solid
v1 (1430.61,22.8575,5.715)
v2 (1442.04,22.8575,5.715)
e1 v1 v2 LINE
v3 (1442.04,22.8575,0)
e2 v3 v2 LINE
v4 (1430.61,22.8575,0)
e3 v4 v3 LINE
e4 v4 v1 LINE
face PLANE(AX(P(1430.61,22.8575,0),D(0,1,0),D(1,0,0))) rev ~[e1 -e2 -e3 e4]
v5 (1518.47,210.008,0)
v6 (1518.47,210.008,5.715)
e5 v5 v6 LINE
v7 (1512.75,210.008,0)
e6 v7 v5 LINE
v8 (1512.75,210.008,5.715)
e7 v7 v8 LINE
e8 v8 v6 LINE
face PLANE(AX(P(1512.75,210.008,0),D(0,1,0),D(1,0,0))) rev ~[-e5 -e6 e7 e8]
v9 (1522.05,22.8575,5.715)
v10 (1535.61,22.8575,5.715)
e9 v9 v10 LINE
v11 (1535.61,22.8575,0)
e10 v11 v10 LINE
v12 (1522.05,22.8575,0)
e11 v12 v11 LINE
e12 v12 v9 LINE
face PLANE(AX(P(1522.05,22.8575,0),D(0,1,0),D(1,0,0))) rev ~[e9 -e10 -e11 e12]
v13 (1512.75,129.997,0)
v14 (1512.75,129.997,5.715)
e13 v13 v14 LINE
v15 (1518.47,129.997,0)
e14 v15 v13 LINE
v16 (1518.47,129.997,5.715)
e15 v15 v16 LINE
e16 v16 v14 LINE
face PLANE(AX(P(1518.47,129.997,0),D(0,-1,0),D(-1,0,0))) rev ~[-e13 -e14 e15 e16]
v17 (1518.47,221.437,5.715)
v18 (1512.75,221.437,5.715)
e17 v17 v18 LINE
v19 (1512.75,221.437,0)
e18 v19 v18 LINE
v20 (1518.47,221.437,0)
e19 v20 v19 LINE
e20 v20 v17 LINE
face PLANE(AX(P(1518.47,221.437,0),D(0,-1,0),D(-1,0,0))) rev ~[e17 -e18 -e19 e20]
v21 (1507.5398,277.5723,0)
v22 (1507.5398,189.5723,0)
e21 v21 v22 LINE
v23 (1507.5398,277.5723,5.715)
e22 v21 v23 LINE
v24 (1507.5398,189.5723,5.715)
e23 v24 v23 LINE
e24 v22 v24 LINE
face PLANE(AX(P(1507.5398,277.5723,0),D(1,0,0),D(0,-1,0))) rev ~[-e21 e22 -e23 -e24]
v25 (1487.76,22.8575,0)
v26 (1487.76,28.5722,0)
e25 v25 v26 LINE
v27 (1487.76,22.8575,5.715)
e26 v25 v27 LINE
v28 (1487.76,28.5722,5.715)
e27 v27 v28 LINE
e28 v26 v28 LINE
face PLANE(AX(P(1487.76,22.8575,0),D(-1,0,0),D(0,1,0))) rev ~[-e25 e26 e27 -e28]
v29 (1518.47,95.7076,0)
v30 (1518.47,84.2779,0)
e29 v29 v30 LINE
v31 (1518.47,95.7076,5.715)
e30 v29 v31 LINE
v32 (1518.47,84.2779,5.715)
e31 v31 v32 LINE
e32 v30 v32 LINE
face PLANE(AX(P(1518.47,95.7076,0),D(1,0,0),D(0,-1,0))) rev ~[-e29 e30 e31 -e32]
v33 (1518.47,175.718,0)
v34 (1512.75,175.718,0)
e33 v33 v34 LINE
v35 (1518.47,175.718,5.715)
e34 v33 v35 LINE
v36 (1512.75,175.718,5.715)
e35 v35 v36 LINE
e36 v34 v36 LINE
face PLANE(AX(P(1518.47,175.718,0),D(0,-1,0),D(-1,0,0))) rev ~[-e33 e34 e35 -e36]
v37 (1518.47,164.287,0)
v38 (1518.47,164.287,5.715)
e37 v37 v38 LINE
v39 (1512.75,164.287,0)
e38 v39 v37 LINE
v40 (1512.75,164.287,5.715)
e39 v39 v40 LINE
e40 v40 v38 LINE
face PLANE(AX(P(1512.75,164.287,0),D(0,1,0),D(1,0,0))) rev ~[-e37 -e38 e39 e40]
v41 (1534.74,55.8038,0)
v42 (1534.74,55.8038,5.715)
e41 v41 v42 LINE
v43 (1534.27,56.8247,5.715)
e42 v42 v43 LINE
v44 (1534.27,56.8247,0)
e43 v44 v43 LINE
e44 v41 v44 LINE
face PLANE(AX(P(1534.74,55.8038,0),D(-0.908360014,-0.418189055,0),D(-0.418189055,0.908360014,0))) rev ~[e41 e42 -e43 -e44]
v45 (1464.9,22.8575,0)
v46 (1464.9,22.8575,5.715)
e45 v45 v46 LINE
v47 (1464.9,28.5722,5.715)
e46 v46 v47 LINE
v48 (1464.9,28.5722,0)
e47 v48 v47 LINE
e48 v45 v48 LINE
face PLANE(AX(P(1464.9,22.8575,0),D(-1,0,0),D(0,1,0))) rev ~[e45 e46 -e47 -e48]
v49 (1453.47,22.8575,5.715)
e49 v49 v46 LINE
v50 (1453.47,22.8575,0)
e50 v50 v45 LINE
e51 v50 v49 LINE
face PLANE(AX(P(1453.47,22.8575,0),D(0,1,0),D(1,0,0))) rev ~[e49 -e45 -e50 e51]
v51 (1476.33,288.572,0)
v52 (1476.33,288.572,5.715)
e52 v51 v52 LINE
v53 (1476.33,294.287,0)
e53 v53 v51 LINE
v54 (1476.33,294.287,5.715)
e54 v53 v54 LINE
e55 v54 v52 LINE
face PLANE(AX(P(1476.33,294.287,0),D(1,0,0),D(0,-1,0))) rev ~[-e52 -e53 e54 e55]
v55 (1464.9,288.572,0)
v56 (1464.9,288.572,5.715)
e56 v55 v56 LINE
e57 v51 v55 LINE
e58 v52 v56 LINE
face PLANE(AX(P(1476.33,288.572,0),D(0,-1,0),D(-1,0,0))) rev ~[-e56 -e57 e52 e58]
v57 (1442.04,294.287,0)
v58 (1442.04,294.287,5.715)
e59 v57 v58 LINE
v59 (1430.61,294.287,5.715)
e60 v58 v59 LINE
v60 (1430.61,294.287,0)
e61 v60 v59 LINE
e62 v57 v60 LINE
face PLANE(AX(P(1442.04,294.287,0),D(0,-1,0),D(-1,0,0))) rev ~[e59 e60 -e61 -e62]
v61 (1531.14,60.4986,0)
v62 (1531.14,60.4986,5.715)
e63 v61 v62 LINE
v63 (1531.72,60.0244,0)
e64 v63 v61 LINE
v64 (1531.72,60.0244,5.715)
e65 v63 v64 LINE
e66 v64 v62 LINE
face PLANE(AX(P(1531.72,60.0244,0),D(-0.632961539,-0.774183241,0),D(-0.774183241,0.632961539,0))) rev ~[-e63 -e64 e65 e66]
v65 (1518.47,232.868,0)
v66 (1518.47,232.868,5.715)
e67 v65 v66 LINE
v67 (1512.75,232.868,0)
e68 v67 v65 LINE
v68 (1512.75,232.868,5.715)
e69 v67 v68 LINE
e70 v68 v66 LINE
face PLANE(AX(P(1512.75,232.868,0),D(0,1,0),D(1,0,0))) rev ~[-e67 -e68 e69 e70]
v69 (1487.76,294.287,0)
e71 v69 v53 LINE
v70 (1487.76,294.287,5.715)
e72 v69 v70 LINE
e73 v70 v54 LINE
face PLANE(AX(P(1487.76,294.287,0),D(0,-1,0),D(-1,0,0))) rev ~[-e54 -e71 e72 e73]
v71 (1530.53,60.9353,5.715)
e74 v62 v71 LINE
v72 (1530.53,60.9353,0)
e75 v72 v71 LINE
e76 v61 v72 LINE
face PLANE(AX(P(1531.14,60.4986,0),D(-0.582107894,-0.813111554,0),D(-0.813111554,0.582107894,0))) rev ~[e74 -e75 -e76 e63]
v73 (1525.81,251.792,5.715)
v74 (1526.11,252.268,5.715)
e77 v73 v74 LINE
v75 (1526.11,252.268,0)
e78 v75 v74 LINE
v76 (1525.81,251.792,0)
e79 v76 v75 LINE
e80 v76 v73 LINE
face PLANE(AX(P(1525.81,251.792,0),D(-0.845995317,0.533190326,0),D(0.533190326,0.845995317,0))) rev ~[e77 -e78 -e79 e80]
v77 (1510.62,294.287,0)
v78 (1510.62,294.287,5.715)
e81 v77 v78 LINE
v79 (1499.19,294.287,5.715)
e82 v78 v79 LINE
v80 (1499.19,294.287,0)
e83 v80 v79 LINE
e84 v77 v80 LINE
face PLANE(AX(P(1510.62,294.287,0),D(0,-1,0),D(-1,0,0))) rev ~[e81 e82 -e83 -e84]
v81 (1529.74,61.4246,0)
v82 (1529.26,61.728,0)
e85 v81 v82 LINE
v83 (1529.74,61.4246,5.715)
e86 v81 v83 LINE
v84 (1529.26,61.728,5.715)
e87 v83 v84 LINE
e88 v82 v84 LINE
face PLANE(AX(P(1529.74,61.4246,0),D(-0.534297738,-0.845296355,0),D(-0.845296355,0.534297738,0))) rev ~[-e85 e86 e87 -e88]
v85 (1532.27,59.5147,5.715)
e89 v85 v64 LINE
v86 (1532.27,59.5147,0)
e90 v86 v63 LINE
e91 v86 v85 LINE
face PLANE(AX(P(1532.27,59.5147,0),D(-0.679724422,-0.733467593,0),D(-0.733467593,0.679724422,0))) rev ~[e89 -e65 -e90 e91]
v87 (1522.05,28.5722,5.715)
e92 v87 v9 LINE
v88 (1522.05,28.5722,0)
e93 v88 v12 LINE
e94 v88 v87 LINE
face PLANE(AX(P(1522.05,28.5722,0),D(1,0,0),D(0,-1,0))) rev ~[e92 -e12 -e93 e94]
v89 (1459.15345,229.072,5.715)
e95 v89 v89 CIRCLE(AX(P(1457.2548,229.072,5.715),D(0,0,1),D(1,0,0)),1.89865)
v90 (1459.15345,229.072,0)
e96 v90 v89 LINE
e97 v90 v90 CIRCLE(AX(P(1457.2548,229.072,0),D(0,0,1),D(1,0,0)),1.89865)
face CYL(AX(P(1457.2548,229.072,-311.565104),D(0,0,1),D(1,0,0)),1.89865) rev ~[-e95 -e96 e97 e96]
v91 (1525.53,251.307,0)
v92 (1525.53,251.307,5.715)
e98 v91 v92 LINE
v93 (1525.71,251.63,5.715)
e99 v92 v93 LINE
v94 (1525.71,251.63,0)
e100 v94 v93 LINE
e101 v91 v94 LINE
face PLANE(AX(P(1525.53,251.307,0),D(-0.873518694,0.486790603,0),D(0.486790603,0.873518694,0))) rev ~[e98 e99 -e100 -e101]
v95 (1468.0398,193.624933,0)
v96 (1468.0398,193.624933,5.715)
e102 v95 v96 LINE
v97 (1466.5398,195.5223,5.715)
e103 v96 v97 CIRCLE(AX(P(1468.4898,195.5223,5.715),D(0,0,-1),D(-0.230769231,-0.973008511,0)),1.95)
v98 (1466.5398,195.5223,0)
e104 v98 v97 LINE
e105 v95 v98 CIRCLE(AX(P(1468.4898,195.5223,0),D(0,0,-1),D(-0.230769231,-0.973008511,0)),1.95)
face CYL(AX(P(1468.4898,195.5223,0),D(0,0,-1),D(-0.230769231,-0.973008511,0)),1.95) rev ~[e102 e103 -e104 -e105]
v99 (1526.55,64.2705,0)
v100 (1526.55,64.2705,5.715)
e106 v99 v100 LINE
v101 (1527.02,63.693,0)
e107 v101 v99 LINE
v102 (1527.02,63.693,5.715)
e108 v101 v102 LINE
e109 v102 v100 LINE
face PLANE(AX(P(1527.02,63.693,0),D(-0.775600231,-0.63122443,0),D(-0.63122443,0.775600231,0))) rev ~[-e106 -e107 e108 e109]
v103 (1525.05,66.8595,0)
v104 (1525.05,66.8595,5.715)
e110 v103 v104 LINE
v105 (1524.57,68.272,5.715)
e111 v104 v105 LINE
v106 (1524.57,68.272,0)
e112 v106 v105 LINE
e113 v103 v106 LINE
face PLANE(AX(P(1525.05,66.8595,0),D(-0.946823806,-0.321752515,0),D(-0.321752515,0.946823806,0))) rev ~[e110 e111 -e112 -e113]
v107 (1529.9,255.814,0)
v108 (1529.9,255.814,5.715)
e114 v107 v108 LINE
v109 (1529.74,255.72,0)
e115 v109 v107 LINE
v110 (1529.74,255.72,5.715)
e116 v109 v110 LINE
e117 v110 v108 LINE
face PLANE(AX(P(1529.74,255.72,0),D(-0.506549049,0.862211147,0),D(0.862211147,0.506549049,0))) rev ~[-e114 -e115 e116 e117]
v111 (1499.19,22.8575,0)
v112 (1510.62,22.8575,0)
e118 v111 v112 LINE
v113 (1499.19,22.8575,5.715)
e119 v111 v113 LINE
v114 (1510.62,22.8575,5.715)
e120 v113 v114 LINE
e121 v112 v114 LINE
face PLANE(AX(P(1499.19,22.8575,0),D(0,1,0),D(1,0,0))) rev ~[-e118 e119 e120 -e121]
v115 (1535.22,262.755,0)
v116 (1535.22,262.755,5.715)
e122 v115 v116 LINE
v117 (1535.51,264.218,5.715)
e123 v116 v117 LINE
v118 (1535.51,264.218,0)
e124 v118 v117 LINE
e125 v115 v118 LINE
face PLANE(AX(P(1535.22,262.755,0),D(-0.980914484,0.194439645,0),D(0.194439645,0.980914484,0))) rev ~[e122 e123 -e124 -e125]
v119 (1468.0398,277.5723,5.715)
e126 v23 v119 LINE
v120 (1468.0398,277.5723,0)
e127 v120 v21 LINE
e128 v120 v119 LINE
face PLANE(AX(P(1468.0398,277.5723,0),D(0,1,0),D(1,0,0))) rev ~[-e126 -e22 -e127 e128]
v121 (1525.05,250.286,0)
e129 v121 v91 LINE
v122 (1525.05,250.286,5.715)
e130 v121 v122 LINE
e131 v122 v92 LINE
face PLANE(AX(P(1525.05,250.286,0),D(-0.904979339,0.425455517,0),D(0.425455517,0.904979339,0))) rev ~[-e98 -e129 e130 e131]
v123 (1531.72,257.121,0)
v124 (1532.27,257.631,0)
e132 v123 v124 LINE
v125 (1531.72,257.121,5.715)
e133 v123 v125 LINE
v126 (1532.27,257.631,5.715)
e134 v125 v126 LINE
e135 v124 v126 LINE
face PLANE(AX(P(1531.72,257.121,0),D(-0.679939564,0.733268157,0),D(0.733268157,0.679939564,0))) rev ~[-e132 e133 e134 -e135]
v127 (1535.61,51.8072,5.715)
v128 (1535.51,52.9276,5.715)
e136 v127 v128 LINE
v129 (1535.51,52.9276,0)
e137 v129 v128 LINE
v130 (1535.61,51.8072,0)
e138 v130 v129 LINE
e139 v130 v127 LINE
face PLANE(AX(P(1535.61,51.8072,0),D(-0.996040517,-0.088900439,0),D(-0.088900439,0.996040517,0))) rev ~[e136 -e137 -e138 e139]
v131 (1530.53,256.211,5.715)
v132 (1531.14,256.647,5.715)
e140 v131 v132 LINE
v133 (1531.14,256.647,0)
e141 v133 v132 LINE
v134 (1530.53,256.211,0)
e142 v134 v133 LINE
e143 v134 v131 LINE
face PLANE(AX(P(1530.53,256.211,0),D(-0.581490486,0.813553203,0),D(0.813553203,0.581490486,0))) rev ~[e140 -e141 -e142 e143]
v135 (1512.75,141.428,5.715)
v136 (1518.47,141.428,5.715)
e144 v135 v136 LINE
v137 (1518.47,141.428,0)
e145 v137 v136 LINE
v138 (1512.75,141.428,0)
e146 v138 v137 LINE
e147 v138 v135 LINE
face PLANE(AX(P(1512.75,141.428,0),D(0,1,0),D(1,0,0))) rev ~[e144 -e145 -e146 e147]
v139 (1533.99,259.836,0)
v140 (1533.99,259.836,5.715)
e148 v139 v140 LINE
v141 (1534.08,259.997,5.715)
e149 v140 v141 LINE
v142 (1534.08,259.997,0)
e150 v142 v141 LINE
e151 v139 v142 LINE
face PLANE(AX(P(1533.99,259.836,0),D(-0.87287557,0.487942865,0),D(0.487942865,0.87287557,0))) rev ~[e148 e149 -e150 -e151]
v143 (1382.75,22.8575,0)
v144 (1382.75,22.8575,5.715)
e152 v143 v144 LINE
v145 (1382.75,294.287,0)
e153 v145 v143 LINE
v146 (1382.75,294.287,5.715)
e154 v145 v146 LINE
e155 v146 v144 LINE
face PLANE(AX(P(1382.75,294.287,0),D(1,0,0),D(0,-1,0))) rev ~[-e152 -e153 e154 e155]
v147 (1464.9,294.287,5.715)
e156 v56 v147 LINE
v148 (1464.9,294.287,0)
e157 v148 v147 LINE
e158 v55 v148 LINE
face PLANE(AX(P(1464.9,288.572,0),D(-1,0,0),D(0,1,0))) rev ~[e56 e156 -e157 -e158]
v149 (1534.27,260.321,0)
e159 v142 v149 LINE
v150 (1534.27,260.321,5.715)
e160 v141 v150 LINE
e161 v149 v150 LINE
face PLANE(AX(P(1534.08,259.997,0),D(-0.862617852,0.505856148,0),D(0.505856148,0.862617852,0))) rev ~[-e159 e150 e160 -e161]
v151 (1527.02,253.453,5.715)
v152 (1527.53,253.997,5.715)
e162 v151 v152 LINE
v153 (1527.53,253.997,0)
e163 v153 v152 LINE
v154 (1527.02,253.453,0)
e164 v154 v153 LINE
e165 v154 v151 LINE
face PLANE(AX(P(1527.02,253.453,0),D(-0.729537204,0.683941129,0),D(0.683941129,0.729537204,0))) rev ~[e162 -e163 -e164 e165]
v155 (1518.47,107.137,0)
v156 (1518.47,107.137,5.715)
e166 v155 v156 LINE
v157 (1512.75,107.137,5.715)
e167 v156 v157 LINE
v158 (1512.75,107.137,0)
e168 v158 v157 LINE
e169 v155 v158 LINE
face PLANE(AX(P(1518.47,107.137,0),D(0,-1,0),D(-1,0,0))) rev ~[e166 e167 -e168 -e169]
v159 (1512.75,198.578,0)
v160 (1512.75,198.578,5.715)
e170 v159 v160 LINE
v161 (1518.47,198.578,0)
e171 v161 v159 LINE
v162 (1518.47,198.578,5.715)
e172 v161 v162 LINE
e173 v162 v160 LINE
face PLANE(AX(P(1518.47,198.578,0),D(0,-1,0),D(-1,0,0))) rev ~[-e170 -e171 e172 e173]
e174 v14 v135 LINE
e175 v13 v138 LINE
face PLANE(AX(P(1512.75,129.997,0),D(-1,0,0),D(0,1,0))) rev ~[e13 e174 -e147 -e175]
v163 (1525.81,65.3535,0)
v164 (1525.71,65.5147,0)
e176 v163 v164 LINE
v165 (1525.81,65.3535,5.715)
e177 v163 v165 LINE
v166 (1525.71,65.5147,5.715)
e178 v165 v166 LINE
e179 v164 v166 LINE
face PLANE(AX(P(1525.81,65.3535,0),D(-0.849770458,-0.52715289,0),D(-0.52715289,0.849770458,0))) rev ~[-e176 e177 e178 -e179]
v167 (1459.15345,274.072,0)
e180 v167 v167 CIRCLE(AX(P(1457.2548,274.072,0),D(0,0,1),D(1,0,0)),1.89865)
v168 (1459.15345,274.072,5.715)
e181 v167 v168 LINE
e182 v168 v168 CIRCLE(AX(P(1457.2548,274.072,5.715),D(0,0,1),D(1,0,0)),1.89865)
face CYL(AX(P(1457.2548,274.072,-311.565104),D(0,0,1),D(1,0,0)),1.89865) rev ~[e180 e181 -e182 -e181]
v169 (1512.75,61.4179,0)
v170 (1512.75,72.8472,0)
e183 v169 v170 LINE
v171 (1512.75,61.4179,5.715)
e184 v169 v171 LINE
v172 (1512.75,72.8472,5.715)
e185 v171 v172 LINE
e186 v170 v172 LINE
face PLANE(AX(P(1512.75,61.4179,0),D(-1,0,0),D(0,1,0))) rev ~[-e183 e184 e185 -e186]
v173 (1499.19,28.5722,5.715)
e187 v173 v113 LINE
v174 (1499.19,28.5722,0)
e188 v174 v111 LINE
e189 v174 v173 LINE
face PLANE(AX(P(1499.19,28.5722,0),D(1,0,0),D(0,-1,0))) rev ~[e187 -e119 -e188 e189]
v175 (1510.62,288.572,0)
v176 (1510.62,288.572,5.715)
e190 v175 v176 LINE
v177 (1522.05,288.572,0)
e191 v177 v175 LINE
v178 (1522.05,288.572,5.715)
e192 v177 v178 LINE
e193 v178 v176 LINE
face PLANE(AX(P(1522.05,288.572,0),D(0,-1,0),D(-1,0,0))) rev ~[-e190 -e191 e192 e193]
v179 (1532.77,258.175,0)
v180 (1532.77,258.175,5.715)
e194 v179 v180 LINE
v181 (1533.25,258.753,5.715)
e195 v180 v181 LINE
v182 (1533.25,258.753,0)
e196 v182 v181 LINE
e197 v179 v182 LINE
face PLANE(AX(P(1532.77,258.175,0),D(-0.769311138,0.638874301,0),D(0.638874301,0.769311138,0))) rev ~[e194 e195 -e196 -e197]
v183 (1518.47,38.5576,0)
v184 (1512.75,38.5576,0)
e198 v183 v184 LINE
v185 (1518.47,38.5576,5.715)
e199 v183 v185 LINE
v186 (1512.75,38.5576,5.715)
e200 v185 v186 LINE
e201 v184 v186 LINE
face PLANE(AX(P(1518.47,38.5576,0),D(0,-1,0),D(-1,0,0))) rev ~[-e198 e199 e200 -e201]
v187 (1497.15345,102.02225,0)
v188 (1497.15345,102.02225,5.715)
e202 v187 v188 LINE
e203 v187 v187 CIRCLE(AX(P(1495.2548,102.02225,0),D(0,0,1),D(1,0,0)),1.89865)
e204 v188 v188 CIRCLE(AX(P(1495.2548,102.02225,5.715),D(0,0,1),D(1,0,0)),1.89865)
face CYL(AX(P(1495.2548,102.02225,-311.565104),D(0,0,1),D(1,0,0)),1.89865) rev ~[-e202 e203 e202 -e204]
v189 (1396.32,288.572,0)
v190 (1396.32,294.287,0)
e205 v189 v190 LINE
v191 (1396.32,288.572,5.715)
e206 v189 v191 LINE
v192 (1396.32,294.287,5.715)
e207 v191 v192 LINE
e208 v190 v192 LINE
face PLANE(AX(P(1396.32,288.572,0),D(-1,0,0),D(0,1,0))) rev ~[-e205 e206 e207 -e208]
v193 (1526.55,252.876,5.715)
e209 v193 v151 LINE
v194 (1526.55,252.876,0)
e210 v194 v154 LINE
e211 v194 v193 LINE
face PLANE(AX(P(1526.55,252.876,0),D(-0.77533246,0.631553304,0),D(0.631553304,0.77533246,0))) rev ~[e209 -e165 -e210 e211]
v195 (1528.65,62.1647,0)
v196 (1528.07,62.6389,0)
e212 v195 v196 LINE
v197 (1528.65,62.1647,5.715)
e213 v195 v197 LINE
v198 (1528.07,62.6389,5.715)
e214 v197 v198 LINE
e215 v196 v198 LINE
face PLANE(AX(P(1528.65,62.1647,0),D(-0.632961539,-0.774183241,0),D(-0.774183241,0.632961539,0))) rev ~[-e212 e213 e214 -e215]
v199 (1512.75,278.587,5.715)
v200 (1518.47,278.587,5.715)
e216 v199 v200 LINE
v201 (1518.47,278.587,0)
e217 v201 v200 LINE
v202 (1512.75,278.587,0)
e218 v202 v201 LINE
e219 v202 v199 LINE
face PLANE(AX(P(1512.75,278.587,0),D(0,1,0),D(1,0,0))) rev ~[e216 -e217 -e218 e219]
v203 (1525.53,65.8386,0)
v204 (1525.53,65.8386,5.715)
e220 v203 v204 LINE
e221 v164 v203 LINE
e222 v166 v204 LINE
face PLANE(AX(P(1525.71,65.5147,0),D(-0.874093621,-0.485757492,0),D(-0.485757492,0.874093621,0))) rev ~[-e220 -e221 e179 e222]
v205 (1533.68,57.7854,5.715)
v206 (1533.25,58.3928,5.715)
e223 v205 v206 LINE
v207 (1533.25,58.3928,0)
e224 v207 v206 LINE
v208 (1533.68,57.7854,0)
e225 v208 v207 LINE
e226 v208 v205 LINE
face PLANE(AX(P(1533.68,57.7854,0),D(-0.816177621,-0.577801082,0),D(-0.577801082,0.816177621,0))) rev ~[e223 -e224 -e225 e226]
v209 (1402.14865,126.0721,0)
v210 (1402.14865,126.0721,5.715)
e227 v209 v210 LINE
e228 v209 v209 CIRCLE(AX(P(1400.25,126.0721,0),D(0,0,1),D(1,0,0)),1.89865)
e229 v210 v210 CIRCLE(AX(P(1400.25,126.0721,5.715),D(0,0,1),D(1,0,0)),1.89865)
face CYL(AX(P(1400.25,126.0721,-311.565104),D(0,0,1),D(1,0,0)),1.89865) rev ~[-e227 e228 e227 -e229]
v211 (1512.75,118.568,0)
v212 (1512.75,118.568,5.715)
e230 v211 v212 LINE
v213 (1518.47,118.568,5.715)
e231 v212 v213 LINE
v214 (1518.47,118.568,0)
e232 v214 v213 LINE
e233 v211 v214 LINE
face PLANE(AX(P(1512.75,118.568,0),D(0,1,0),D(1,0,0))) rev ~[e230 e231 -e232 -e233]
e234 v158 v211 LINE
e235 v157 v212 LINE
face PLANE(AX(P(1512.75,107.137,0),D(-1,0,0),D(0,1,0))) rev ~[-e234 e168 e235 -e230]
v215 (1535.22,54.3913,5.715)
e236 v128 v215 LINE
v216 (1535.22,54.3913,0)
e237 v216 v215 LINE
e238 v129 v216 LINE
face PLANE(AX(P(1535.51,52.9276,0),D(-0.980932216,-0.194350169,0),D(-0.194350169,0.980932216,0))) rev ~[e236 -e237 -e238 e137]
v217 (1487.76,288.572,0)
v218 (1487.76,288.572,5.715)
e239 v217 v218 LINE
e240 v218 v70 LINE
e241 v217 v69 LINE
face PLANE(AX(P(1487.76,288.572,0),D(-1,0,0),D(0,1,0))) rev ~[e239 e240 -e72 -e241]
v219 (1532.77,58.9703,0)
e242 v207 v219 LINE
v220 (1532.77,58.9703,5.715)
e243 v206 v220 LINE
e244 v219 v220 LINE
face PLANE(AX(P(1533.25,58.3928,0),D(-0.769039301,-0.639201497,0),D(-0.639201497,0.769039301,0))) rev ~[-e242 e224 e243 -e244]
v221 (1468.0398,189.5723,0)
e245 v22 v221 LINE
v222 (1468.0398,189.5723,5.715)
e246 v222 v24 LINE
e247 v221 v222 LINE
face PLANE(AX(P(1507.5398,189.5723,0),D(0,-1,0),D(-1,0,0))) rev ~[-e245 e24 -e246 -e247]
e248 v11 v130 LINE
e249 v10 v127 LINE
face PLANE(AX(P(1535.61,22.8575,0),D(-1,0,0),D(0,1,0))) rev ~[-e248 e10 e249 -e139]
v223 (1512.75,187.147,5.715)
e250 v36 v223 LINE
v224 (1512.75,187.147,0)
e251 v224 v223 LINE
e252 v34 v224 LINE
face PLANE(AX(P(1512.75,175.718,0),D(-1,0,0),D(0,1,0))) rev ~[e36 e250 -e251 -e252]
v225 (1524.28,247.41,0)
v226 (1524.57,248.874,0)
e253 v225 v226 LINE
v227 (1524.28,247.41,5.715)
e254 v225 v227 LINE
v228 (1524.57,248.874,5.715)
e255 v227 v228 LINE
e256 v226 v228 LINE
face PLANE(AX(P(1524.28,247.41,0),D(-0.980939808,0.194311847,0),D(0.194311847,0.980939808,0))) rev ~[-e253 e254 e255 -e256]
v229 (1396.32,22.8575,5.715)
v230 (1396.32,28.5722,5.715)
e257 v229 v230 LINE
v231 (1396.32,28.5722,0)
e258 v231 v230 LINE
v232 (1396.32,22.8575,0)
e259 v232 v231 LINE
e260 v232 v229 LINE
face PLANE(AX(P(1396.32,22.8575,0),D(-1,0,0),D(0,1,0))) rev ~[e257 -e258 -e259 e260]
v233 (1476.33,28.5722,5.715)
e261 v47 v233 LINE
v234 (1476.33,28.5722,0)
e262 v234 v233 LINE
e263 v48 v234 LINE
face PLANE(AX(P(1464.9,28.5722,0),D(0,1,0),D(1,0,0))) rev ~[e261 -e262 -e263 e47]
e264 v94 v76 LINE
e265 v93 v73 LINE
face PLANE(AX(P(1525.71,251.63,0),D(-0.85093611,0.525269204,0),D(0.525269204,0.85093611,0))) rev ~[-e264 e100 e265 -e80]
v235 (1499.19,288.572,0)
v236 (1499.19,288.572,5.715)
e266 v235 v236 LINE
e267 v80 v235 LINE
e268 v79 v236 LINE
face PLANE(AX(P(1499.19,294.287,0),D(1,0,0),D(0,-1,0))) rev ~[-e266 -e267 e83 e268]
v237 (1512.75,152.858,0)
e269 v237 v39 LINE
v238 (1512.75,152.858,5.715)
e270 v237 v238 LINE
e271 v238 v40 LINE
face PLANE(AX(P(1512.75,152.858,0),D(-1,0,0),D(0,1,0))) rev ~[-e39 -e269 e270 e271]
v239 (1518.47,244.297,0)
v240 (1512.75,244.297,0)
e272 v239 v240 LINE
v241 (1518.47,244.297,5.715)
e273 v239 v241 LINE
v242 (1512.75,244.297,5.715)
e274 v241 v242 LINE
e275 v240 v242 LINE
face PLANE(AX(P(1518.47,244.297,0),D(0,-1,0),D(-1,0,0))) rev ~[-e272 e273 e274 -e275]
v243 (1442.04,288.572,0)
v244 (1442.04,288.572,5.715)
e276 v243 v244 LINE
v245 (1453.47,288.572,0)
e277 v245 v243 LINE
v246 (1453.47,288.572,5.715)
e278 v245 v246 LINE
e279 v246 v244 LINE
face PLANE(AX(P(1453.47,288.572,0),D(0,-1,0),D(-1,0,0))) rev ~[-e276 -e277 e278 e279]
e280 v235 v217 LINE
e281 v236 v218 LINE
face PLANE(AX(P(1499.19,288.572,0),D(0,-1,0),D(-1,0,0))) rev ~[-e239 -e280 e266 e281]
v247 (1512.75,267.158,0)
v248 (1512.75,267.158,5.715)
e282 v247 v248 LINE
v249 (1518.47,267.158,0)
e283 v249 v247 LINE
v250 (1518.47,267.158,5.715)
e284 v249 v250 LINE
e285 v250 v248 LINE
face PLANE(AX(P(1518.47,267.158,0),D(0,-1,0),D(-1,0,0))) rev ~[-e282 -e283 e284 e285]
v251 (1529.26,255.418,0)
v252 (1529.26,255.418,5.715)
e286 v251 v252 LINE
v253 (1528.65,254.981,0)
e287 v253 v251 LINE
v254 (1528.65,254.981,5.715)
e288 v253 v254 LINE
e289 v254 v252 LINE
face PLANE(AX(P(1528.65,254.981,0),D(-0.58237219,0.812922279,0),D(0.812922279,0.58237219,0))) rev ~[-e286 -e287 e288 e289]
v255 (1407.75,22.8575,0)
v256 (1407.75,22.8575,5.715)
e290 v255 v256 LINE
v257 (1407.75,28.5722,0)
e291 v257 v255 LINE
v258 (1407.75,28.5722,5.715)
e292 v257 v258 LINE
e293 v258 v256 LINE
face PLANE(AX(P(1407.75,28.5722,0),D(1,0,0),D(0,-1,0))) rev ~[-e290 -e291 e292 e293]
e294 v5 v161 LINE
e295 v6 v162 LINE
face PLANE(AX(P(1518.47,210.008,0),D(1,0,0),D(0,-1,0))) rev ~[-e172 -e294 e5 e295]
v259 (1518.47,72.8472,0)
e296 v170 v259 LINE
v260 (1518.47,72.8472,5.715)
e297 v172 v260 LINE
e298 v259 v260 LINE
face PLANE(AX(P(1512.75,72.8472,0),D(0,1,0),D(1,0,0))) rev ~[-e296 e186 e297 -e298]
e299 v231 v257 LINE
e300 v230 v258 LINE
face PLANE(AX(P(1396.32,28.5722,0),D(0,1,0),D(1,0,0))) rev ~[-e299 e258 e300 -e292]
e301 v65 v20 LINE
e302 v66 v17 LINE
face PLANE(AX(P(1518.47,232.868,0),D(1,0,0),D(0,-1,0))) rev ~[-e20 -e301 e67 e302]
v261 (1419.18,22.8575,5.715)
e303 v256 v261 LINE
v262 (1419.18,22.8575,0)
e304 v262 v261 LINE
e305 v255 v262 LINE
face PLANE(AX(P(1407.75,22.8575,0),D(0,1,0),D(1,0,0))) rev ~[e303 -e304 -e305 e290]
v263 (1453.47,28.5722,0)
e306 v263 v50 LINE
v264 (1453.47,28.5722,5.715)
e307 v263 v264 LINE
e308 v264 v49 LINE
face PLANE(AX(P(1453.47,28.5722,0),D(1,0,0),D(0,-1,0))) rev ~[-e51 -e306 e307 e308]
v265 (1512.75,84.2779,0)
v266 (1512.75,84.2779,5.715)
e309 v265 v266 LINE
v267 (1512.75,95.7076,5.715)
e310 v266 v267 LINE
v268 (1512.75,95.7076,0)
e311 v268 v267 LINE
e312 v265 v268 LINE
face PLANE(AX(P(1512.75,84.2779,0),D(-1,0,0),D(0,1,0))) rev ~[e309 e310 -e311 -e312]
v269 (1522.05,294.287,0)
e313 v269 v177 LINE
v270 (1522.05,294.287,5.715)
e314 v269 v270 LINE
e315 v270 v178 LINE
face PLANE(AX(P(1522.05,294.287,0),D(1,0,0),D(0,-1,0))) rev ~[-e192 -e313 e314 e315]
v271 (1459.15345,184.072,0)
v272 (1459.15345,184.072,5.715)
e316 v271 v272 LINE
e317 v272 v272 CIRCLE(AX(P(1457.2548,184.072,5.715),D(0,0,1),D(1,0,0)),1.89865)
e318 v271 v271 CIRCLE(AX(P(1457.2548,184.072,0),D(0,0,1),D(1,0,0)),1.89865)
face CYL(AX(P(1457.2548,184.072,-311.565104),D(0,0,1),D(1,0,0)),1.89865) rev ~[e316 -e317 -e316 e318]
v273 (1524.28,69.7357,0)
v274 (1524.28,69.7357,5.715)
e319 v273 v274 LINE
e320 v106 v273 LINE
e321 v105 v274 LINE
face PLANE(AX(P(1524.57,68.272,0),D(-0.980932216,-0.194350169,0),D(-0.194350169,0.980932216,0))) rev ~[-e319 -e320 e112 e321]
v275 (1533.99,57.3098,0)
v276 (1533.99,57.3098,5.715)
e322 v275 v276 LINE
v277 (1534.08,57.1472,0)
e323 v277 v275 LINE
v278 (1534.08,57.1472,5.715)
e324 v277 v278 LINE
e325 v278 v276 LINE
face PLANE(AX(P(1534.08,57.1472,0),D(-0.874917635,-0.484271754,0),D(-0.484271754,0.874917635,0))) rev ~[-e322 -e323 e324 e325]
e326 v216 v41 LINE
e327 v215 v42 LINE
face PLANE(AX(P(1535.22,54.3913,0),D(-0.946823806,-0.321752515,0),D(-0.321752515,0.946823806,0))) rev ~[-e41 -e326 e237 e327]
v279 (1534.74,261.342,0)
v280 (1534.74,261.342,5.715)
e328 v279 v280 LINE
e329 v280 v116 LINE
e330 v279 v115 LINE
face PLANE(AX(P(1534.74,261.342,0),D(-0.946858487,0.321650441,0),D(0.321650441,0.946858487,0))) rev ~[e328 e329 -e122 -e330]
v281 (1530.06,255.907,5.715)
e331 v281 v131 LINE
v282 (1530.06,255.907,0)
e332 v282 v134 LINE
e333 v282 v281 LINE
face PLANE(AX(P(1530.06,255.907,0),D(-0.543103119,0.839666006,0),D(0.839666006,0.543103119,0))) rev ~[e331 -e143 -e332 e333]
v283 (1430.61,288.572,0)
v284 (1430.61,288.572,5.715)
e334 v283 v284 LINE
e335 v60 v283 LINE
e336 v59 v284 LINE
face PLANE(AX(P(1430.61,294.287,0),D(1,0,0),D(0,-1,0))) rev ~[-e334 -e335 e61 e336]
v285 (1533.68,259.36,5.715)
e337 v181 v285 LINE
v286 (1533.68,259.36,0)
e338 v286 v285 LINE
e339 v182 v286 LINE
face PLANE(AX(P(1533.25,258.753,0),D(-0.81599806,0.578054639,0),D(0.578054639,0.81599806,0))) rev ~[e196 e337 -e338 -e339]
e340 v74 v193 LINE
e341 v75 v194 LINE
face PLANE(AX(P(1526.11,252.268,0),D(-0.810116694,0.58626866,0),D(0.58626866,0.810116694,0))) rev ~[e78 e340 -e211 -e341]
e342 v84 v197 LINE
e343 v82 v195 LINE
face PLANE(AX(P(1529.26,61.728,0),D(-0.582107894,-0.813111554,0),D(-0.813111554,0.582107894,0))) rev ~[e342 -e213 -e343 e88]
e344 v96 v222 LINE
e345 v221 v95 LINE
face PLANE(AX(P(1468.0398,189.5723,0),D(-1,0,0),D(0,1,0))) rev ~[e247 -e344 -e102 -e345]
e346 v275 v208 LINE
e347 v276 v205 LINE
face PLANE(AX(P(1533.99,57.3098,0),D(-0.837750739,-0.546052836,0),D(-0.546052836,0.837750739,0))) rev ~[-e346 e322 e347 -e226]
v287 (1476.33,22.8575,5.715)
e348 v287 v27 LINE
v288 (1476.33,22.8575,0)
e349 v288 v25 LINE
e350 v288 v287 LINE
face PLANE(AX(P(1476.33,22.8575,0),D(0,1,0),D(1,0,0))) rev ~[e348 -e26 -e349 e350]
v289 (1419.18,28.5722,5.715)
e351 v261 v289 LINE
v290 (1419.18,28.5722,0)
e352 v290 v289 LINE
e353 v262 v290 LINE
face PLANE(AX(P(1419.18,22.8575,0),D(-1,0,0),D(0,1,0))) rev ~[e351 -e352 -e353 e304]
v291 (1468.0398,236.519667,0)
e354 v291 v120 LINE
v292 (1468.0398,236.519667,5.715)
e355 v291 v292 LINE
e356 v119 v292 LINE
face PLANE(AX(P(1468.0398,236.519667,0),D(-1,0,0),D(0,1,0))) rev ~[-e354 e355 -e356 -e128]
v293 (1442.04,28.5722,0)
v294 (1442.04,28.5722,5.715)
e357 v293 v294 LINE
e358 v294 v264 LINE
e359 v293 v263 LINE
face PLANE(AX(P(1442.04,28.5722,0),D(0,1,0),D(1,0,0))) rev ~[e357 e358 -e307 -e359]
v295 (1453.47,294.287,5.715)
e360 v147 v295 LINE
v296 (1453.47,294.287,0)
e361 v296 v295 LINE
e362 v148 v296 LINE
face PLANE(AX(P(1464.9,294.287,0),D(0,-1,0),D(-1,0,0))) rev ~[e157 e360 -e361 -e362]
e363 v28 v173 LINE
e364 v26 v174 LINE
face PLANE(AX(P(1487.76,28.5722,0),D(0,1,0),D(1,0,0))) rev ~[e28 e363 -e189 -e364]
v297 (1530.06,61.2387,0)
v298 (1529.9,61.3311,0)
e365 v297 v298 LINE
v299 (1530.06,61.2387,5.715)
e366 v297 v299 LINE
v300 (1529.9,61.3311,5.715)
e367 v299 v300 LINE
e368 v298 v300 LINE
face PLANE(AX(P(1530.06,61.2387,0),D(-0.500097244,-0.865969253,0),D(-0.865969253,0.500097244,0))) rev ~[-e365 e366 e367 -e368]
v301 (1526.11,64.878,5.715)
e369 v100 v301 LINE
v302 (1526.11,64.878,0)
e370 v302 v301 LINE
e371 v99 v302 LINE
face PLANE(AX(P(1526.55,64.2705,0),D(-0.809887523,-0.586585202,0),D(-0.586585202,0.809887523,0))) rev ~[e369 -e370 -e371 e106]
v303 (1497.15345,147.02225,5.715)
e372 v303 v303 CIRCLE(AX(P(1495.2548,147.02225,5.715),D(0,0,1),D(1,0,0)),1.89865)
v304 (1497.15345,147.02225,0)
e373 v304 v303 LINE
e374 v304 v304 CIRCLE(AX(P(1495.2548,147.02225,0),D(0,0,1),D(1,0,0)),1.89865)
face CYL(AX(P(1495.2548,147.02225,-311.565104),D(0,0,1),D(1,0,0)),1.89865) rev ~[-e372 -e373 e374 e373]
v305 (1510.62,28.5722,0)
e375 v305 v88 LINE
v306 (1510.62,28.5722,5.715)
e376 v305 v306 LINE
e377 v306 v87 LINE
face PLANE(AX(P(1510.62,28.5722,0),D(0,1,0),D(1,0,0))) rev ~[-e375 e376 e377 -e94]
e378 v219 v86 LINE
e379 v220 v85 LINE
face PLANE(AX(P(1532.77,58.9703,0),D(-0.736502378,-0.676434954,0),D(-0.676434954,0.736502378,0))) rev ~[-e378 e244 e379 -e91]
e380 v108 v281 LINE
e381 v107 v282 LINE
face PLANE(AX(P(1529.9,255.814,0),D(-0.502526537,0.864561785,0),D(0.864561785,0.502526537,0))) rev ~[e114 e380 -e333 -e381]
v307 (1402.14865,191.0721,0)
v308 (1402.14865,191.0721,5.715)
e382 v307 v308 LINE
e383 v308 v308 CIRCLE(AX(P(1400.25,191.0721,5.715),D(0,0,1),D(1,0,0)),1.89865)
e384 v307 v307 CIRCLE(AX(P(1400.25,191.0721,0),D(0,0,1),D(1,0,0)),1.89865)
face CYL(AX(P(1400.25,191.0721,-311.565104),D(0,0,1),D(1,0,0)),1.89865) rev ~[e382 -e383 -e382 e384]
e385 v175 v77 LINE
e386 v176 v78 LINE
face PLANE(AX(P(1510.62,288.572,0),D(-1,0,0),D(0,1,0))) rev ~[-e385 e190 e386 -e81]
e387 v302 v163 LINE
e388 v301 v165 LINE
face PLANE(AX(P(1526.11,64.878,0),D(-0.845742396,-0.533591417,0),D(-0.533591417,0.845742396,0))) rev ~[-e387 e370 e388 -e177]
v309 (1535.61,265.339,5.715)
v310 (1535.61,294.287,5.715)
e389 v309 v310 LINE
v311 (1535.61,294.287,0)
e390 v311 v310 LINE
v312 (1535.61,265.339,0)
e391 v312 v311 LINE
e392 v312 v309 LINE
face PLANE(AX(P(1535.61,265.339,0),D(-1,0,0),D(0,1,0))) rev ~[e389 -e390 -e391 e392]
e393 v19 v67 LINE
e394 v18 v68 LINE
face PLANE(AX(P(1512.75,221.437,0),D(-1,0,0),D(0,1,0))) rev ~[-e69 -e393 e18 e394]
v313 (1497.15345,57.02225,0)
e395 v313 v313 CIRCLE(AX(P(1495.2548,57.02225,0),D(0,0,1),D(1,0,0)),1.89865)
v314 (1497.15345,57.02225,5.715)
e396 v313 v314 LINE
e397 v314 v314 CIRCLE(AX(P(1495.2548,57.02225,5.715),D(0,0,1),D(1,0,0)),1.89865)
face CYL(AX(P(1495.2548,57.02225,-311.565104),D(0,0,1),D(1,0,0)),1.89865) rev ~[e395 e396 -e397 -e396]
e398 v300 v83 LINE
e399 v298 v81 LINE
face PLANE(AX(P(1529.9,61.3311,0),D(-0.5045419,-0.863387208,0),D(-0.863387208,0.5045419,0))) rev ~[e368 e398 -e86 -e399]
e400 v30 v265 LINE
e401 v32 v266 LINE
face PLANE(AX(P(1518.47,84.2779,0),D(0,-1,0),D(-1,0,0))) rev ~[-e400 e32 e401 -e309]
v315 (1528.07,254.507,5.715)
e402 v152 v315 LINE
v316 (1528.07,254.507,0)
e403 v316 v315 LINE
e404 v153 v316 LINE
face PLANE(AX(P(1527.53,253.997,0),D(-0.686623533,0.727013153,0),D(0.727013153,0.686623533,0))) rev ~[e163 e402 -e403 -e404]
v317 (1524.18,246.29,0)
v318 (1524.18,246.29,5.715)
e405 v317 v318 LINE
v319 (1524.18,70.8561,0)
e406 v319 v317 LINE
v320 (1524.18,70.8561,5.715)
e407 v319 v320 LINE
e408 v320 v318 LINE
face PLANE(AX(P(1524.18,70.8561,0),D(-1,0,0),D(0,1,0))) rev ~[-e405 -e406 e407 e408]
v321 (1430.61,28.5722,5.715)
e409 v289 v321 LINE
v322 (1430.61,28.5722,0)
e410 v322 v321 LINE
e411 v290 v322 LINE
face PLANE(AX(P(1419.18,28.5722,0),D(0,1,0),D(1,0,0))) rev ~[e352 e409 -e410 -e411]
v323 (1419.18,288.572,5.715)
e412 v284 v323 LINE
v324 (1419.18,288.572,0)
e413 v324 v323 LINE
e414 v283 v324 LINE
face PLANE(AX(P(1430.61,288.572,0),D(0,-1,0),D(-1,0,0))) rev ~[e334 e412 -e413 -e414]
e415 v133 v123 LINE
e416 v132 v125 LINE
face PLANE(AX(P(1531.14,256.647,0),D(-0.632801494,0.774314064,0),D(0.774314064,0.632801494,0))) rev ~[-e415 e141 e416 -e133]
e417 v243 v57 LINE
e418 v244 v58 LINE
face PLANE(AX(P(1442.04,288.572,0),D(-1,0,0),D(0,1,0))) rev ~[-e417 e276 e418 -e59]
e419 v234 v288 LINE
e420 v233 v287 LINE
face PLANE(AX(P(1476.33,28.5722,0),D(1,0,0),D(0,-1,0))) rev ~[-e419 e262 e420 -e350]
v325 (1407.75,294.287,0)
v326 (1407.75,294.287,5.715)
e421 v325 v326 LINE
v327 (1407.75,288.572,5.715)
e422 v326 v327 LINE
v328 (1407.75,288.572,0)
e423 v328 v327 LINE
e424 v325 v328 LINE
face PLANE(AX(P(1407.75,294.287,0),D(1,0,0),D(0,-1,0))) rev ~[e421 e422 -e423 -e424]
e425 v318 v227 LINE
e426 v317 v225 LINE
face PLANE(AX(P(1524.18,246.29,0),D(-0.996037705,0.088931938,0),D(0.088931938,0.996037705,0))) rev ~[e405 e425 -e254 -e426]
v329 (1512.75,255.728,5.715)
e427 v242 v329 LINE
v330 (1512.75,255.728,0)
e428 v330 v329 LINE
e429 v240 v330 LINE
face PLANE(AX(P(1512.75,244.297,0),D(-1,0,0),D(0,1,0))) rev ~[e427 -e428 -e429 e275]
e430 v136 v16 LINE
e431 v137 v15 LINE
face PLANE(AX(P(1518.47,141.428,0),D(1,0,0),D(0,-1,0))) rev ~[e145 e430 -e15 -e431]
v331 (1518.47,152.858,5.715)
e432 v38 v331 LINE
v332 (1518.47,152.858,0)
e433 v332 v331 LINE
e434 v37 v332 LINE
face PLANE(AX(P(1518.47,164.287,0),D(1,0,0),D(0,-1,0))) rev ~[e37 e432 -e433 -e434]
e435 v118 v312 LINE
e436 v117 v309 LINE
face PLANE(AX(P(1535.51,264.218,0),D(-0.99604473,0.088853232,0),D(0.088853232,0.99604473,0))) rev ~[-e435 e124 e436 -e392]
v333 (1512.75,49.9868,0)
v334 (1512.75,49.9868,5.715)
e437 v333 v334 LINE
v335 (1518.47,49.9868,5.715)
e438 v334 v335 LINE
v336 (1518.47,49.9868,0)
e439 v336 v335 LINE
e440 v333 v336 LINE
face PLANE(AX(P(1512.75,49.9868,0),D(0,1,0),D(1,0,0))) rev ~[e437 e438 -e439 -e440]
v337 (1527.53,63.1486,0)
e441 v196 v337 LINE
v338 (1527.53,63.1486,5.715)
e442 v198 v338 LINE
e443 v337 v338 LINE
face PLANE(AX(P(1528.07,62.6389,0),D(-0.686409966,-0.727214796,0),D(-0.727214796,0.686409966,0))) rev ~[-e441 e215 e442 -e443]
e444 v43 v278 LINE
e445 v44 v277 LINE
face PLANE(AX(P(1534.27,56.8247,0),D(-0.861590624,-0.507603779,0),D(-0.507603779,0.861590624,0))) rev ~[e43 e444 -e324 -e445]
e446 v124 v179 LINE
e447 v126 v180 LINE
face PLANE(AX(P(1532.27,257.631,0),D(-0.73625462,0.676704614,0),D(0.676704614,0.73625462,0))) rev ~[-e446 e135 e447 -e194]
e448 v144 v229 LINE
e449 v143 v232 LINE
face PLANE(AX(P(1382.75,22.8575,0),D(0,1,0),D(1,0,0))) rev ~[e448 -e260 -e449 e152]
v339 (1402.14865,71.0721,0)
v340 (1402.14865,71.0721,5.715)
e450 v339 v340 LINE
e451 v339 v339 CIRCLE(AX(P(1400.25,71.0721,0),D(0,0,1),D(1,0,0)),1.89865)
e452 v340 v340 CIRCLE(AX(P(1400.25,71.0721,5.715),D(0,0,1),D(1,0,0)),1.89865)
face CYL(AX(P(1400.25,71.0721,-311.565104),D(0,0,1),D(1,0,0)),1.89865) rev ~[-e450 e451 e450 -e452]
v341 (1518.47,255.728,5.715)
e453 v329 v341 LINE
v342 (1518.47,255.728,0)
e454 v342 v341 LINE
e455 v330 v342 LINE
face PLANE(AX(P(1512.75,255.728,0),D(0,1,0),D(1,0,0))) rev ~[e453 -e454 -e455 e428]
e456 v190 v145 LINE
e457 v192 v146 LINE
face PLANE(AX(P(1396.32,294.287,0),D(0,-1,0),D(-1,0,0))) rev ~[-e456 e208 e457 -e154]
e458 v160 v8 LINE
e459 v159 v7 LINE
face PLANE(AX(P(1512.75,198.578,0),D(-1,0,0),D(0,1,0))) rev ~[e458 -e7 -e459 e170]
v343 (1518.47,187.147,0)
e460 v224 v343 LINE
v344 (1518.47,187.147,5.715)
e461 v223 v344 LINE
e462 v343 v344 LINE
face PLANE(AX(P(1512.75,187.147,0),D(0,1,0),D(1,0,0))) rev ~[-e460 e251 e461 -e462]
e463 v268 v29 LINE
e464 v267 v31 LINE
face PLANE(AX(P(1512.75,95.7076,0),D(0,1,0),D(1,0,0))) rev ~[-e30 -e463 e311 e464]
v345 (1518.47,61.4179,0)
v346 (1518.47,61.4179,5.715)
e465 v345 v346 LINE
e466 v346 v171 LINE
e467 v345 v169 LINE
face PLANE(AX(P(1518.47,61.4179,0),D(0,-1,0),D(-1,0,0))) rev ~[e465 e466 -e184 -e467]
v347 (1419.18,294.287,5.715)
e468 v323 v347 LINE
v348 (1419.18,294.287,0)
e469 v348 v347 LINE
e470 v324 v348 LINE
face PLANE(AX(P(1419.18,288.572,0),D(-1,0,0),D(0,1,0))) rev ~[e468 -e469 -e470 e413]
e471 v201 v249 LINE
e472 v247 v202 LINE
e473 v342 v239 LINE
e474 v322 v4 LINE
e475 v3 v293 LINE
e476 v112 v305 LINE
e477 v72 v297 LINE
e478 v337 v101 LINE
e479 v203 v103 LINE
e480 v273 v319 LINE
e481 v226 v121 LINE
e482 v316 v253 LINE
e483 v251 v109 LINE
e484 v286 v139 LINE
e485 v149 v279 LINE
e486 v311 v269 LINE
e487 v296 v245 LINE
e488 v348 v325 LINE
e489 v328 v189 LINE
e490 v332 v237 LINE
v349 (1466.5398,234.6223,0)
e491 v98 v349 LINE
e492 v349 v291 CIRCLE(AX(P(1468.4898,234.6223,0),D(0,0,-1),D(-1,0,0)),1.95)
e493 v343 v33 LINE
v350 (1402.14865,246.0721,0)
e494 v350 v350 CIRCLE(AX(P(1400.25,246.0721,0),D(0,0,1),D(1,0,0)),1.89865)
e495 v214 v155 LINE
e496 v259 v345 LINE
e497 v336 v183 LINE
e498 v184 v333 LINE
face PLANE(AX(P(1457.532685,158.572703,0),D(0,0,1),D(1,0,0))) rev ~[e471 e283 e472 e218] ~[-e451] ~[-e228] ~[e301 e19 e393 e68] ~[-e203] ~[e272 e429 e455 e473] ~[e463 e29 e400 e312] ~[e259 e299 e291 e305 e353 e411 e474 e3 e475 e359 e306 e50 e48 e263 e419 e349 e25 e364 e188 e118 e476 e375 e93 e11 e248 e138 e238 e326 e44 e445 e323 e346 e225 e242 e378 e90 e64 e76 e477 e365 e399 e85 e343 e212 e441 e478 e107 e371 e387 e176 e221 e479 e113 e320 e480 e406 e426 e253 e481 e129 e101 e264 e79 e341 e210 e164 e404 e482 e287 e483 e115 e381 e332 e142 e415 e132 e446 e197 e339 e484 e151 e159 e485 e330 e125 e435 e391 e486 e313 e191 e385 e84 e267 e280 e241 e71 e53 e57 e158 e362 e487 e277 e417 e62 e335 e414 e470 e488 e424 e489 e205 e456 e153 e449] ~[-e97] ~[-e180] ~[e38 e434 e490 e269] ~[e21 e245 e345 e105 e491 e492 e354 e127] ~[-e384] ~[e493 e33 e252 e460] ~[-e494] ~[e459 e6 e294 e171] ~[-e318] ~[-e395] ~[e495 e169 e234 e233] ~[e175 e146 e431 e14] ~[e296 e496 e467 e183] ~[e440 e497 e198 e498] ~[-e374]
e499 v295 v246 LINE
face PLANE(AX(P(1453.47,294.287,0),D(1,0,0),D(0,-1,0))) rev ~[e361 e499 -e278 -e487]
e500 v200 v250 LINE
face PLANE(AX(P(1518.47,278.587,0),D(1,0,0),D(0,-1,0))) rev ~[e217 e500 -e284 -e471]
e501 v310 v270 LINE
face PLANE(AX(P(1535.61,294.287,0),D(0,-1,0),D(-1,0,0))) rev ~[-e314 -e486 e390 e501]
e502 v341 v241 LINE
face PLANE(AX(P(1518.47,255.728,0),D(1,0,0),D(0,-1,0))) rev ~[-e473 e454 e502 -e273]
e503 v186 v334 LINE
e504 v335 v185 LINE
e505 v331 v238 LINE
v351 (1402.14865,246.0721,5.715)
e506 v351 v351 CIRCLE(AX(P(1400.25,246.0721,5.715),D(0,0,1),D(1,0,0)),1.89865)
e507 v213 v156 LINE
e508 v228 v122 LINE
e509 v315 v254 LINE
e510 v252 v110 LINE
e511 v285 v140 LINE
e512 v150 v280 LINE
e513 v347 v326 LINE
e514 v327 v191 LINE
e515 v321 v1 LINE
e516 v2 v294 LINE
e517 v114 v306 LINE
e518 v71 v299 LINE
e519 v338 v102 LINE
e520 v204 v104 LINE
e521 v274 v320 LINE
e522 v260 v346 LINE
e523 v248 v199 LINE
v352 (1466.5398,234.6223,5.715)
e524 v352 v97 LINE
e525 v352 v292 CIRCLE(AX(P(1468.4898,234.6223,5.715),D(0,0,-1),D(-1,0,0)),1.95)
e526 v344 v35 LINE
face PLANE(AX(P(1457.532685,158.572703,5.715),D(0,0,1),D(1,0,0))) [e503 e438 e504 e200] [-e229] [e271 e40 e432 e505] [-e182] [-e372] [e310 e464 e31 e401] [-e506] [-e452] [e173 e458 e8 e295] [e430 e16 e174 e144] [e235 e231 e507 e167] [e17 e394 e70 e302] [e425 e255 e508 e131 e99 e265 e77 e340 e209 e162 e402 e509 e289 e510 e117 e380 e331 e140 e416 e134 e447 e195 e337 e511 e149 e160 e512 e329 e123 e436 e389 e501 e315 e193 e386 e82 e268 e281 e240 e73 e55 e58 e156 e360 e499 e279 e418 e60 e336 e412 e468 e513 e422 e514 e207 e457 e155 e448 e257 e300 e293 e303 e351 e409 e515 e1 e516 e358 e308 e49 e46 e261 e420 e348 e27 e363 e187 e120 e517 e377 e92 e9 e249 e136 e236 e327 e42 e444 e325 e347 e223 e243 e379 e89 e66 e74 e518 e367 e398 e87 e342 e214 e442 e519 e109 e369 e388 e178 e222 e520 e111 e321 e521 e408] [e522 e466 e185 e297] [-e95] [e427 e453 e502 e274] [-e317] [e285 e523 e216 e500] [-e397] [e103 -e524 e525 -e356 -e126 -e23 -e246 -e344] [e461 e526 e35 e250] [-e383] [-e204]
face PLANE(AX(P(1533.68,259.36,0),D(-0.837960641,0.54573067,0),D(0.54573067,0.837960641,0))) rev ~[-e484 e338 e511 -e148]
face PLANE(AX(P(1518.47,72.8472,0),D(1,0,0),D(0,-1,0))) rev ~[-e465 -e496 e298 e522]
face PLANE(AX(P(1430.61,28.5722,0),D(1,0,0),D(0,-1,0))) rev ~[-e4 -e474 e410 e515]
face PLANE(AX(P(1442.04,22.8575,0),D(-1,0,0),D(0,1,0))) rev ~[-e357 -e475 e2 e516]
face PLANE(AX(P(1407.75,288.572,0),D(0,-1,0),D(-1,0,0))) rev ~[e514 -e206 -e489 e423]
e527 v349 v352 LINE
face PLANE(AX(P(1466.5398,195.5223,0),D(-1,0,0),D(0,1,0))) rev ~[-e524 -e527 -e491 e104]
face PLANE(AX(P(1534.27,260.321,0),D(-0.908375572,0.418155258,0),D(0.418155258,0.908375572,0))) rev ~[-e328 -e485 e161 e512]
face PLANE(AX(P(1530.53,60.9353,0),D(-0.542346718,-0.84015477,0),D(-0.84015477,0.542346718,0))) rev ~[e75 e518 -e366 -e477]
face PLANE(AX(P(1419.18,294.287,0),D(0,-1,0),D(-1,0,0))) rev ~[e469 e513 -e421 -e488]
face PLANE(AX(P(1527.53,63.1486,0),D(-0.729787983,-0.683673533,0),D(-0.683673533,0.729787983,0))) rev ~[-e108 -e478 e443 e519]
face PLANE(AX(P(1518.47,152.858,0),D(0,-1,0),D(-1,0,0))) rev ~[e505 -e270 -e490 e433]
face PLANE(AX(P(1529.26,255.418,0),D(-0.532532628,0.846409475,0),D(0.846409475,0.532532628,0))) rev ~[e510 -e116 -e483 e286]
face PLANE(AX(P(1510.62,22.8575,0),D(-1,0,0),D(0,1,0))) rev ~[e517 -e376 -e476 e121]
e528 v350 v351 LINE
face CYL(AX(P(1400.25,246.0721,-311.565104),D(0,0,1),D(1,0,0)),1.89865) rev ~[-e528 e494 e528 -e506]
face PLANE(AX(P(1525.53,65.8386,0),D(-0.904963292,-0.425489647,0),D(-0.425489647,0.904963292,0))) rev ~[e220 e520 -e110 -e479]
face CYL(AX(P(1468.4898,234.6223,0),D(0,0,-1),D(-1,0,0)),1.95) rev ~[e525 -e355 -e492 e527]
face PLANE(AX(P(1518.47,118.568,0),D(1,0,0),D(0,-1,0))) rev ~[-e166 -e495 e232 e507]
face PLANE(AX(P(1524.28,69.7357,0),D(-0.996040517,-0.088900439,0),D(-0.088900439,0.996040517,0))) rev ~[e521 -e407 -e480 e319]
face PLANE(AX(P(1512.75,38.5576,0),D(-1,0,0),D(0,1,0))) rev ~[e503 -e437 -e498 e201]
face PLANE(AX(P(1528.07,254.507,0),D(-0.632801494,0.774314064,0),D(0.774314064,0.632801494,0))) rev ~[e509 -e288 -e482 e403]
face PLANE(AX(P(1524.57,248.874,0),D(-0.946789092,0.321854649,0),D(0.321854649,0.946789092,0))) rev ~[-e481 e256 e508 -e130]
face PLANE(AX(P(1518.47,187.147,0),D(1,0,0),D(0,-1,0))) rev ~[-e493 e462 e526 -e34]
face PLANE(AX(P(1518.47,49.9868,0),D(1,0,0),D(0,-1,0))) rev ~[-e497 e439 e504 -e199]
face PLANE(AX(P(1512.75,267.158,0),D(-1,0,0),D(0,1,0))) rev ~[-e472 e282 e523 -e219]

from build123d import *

# Parameters (mm, degrees)
BOSS_EXTRUDE1_DEPTH   = 5.715
CUT_EXTRUDE1_DEPTH    = 6.715
F_6_CLEARANCE_HOLE1_D = 3.7973


with BuildPart() as part:
    # Model → Boss-Extrude1 (new body)
    with BuildSketch(Plane.XY):
        Polygon((1382.75, 22.8575), (1396.32, 22.8575), (1396.32, 28.5722), (1407.75, 28.5722), (1407.75, 22.8575), (1419.18, 22.8575), (1419.18, 28.5722), (1430.61, 28.5722), (1430.61, 22.8575), (1442.04, 22.8575), (1442.04, 28.5722), (1453.47, 28.5722), (1453.47, 22.8575), (1464.9, 22.8575), (1464.9, 28.5722), (1476.33, 28.5722), (1476.33, 22.8575), (1487.76, 22.8575), (1487.76, 28.5722), (1499.19, 28.5722), (1499.19, 22.8575), (1510.62, 22.8575), (1510.62, 28.5722), (1522.05, 28.5722), (1522.05, 22.8575), (1535.61, 22.8575), (1535.61, 28.5722), (1535.61, 51.4325), (1535.61, 51.8072), (1535.51, 52.9276), (1535.22, 54.3913), (1534.74, 55.8038), (1534.27, 56.8247), (1534.08, 57.1472), (1533.99, 57.3098), (1533.68, 57.7854), (1533.25, 58.3928), (1532.77, 58.9703), (1532.27, 59.5147), (1531.72, 60.0244), (1531.14, 60.4986), (1530.53, 60.9353), (1530.06, 61.2387), (1529.9, 61.3311), (1529.74, 61.4246), (1529.26, 61.728), (1528.65, 62.1647), (1528.07, 62.6389), (1527.53, 63.1486), (1527.02, 63.693), (1526.55, 64.2705), (1526.11, 64.878), (1525.81, 65.3535), (1525.71, 65.5147), (1525.53, 65.8386), (1525.05, 66.8595), (1524.57, 68.272), (1524.28, 69.7357), (1524.18, 70.8561), (1524.18, 71.2294), (1524.18, 245.915), (1524.18, 246.29), (1524.28, 247.41), (1524.57, 248.874), (1525.05, 250.286), (1525.53, 251.307), (1525.71, 251.63), (1525.81, 251.792), (1526.11, 252.268), (1526.55, 252.876), (1527.02, 253.453), (1527.53, 253.997), (1528.07, 254.507), (1528.65, 254.981), (1529.26, 255.418), (1529.74, 255.72), (1529.9, 255.814), (1530.06, 255.907), (1530.53, 256.211), (1531.14, 256.647), (1531.72, 257.121), (1532.27, 257.631), (1532.77, 258.175), (1533.25, 258.753), (1533.68, 259.36), (1533.99, 259.836), (1534.08, 259.997), (1534.27, 260.321), (1534.74, 261.342), (1535.22, 262.755), (1535.51, 264.218), (1535.61, 265.339), (1535.61, 265.712), (1535.61, 288.572), (1535.61, 294.287), (1522.05, 294.287), (1522.05, 288.572), (1510.62, 288.572), (1510.62, 294.287), (1499.19, 294.287), (1499.19, 288.572), (1487.76, 288.572), (1487.76, 294.287), (1476.33, 294.287), (1476.33, 288.572), (1464.9, 288.572), (1464.9, 294.287), (1453.47, 294.287), (1453.47, 288.572), (1442.04, 288.572), (1442.04, 294.287), (1430.61, 294.287), (1430.61, 288.572), (1419.18, 288.572), (1419.18, 294.287), (1407.75, 294.287), (1407.75, 288.572), (1396.32, 288.572), (1396.32, 294.287), (1382.75, 294.287), (1382.75, 288.572), (1382.75, 28.5722), align=None)
        Polygon((1518.47, 44.2722), (1518.47, 38.5576), (1512.75, 38.5576), (1512.75, 49.9868), (1518.47, 49.9868), align=None, mode=Mode.SUBTRACT)
        Polygon((1518.47, 67.1326), (1518.47, 61.4179), (1512.75, 61.4179), (1512.75, 72.8472), (1518.47, 72.8472), align=None, mode=Mode.SUBTRACT)
        Polygon((1518.47, 89.9929), (1518.47, 84.2779), (1512.75, 84.2779), (1512.75, 95.7076), (1518.47, 95.7076), align=None, mode=Mode.SUBTRACT)
        Polygon((1518.47, 112.853), (1518.47, 107.137), (1512.75, 107.137), (1512.75, 118.568), (1518.47, 118.568), align=None, mode=Mode.SUBTRACT)
        Polygon((1518.47, 135.712), (1518.47, 129.997), (1512.75, 129.997), (1512.75, 141.428), (1518.47, 141.428), align=None, mode=Mode.SUBTRACT)
        Polygon((1518.47, 158.572), (1518.47, 152.858), (1512.75, 152.858), (1512.75, 164.287), (1518.47, 164.287), align=None, mode=Mode.SUBTRACT)
        Polygon((1518.47, 181.433), (1518.47, 175.718), (1512.75, 175.718), (1512.75, 187.147), (1518.47, 187.147), align=None, mode=Mode.SUBTRACT)
        Polygon((1518.47, 204.293), (1518.47, 198.578), (1512.75, 198.578), (1512.75, 210.008), (1518.47, 210.008), align=None, mode=Mode.SUBTRACT)
        Polygon((1518.47, 227.153), (1518.47, 221.437), (1512.75, 221.437), (1512.75, 232.868), (1518.47, 232.868), align=None, mode=Mode.SUBTRACT)
        Polygon((1518.47, 250.012), (1518.47, 244.297), (1512.75, 244.297), (1512.75, 255.728), (1518.47, 255.728), align=None, mode=Mode.SUBTRACT)
        Polygon((1518.47, 272.872), (1518.47, 267.158), (1512.75, 267.158), (1512.75, 278.587), (1518.47, 278.587), align=None, mode=Mode.SUBTRACT)
    extrude(amount=BOSS_EXTRUDE1_DEPTH)

    # Sketch1 → Cut-Extrude1 (cut, through all)
    with BuildSketch(Plane(origin=(0, 0, 0), x_dir=(-1, 0, 0), z_dir=(0, 0, -1))):
        with BuildLine():
            Line((-1468.0398, 277.5723), (-1507.5398, 277.5723))
            Line((-1507.5398, 277.5723), (-1507.5398, 189.5723))
            Line((-1507.5398, 189.5723), (-1468.0398, 189.5723))
            Line((-1468.0398, 189.5723), (-1468.0398, 193.624933404))
            ThreePointArc((-1468.0398, 193.624933404), (-1466.960094146, 194.312961338), (-1466.5398, 195.5223))
            Line((-1466.5398, 195.5223), (-1466.5398, 234.6223))
            ThreePointArc((-1466.5398, 234.6223), (-1466.960094146, 235.831638662), (-1468.0398, 236.519666596))
            Line((-1468.0398, 236.519666596), (-1468.0398, 277.5723))
        make_face()
    extrude(amount=-CUT_EXTRUDE1_DEPTH, mode=Mode.SUBTRACT)

    # #6 Clearance Hole1 (through all)
    with Locations(Plane(origin=(0, 0, 0), x_dir=(-1, 0, 0), z_dir=(0, 0, -1))):
        with Locations((-1400.25, 246.0721), (-1400.25, 191.0721), (-1400.25, 126.0721), (-1400.25, 71.0721), (-1457.2548, 274.072), (-1457.2548, 229.072), (-1457.2548, 184.072), (-1495.2548, 147.02225), (-1495.2548, 102.02225), (-1495.2548, 57.02225)):
            Hole(F_6_CLEARANCE_HOLE1_D / 2)


solid = part.part
